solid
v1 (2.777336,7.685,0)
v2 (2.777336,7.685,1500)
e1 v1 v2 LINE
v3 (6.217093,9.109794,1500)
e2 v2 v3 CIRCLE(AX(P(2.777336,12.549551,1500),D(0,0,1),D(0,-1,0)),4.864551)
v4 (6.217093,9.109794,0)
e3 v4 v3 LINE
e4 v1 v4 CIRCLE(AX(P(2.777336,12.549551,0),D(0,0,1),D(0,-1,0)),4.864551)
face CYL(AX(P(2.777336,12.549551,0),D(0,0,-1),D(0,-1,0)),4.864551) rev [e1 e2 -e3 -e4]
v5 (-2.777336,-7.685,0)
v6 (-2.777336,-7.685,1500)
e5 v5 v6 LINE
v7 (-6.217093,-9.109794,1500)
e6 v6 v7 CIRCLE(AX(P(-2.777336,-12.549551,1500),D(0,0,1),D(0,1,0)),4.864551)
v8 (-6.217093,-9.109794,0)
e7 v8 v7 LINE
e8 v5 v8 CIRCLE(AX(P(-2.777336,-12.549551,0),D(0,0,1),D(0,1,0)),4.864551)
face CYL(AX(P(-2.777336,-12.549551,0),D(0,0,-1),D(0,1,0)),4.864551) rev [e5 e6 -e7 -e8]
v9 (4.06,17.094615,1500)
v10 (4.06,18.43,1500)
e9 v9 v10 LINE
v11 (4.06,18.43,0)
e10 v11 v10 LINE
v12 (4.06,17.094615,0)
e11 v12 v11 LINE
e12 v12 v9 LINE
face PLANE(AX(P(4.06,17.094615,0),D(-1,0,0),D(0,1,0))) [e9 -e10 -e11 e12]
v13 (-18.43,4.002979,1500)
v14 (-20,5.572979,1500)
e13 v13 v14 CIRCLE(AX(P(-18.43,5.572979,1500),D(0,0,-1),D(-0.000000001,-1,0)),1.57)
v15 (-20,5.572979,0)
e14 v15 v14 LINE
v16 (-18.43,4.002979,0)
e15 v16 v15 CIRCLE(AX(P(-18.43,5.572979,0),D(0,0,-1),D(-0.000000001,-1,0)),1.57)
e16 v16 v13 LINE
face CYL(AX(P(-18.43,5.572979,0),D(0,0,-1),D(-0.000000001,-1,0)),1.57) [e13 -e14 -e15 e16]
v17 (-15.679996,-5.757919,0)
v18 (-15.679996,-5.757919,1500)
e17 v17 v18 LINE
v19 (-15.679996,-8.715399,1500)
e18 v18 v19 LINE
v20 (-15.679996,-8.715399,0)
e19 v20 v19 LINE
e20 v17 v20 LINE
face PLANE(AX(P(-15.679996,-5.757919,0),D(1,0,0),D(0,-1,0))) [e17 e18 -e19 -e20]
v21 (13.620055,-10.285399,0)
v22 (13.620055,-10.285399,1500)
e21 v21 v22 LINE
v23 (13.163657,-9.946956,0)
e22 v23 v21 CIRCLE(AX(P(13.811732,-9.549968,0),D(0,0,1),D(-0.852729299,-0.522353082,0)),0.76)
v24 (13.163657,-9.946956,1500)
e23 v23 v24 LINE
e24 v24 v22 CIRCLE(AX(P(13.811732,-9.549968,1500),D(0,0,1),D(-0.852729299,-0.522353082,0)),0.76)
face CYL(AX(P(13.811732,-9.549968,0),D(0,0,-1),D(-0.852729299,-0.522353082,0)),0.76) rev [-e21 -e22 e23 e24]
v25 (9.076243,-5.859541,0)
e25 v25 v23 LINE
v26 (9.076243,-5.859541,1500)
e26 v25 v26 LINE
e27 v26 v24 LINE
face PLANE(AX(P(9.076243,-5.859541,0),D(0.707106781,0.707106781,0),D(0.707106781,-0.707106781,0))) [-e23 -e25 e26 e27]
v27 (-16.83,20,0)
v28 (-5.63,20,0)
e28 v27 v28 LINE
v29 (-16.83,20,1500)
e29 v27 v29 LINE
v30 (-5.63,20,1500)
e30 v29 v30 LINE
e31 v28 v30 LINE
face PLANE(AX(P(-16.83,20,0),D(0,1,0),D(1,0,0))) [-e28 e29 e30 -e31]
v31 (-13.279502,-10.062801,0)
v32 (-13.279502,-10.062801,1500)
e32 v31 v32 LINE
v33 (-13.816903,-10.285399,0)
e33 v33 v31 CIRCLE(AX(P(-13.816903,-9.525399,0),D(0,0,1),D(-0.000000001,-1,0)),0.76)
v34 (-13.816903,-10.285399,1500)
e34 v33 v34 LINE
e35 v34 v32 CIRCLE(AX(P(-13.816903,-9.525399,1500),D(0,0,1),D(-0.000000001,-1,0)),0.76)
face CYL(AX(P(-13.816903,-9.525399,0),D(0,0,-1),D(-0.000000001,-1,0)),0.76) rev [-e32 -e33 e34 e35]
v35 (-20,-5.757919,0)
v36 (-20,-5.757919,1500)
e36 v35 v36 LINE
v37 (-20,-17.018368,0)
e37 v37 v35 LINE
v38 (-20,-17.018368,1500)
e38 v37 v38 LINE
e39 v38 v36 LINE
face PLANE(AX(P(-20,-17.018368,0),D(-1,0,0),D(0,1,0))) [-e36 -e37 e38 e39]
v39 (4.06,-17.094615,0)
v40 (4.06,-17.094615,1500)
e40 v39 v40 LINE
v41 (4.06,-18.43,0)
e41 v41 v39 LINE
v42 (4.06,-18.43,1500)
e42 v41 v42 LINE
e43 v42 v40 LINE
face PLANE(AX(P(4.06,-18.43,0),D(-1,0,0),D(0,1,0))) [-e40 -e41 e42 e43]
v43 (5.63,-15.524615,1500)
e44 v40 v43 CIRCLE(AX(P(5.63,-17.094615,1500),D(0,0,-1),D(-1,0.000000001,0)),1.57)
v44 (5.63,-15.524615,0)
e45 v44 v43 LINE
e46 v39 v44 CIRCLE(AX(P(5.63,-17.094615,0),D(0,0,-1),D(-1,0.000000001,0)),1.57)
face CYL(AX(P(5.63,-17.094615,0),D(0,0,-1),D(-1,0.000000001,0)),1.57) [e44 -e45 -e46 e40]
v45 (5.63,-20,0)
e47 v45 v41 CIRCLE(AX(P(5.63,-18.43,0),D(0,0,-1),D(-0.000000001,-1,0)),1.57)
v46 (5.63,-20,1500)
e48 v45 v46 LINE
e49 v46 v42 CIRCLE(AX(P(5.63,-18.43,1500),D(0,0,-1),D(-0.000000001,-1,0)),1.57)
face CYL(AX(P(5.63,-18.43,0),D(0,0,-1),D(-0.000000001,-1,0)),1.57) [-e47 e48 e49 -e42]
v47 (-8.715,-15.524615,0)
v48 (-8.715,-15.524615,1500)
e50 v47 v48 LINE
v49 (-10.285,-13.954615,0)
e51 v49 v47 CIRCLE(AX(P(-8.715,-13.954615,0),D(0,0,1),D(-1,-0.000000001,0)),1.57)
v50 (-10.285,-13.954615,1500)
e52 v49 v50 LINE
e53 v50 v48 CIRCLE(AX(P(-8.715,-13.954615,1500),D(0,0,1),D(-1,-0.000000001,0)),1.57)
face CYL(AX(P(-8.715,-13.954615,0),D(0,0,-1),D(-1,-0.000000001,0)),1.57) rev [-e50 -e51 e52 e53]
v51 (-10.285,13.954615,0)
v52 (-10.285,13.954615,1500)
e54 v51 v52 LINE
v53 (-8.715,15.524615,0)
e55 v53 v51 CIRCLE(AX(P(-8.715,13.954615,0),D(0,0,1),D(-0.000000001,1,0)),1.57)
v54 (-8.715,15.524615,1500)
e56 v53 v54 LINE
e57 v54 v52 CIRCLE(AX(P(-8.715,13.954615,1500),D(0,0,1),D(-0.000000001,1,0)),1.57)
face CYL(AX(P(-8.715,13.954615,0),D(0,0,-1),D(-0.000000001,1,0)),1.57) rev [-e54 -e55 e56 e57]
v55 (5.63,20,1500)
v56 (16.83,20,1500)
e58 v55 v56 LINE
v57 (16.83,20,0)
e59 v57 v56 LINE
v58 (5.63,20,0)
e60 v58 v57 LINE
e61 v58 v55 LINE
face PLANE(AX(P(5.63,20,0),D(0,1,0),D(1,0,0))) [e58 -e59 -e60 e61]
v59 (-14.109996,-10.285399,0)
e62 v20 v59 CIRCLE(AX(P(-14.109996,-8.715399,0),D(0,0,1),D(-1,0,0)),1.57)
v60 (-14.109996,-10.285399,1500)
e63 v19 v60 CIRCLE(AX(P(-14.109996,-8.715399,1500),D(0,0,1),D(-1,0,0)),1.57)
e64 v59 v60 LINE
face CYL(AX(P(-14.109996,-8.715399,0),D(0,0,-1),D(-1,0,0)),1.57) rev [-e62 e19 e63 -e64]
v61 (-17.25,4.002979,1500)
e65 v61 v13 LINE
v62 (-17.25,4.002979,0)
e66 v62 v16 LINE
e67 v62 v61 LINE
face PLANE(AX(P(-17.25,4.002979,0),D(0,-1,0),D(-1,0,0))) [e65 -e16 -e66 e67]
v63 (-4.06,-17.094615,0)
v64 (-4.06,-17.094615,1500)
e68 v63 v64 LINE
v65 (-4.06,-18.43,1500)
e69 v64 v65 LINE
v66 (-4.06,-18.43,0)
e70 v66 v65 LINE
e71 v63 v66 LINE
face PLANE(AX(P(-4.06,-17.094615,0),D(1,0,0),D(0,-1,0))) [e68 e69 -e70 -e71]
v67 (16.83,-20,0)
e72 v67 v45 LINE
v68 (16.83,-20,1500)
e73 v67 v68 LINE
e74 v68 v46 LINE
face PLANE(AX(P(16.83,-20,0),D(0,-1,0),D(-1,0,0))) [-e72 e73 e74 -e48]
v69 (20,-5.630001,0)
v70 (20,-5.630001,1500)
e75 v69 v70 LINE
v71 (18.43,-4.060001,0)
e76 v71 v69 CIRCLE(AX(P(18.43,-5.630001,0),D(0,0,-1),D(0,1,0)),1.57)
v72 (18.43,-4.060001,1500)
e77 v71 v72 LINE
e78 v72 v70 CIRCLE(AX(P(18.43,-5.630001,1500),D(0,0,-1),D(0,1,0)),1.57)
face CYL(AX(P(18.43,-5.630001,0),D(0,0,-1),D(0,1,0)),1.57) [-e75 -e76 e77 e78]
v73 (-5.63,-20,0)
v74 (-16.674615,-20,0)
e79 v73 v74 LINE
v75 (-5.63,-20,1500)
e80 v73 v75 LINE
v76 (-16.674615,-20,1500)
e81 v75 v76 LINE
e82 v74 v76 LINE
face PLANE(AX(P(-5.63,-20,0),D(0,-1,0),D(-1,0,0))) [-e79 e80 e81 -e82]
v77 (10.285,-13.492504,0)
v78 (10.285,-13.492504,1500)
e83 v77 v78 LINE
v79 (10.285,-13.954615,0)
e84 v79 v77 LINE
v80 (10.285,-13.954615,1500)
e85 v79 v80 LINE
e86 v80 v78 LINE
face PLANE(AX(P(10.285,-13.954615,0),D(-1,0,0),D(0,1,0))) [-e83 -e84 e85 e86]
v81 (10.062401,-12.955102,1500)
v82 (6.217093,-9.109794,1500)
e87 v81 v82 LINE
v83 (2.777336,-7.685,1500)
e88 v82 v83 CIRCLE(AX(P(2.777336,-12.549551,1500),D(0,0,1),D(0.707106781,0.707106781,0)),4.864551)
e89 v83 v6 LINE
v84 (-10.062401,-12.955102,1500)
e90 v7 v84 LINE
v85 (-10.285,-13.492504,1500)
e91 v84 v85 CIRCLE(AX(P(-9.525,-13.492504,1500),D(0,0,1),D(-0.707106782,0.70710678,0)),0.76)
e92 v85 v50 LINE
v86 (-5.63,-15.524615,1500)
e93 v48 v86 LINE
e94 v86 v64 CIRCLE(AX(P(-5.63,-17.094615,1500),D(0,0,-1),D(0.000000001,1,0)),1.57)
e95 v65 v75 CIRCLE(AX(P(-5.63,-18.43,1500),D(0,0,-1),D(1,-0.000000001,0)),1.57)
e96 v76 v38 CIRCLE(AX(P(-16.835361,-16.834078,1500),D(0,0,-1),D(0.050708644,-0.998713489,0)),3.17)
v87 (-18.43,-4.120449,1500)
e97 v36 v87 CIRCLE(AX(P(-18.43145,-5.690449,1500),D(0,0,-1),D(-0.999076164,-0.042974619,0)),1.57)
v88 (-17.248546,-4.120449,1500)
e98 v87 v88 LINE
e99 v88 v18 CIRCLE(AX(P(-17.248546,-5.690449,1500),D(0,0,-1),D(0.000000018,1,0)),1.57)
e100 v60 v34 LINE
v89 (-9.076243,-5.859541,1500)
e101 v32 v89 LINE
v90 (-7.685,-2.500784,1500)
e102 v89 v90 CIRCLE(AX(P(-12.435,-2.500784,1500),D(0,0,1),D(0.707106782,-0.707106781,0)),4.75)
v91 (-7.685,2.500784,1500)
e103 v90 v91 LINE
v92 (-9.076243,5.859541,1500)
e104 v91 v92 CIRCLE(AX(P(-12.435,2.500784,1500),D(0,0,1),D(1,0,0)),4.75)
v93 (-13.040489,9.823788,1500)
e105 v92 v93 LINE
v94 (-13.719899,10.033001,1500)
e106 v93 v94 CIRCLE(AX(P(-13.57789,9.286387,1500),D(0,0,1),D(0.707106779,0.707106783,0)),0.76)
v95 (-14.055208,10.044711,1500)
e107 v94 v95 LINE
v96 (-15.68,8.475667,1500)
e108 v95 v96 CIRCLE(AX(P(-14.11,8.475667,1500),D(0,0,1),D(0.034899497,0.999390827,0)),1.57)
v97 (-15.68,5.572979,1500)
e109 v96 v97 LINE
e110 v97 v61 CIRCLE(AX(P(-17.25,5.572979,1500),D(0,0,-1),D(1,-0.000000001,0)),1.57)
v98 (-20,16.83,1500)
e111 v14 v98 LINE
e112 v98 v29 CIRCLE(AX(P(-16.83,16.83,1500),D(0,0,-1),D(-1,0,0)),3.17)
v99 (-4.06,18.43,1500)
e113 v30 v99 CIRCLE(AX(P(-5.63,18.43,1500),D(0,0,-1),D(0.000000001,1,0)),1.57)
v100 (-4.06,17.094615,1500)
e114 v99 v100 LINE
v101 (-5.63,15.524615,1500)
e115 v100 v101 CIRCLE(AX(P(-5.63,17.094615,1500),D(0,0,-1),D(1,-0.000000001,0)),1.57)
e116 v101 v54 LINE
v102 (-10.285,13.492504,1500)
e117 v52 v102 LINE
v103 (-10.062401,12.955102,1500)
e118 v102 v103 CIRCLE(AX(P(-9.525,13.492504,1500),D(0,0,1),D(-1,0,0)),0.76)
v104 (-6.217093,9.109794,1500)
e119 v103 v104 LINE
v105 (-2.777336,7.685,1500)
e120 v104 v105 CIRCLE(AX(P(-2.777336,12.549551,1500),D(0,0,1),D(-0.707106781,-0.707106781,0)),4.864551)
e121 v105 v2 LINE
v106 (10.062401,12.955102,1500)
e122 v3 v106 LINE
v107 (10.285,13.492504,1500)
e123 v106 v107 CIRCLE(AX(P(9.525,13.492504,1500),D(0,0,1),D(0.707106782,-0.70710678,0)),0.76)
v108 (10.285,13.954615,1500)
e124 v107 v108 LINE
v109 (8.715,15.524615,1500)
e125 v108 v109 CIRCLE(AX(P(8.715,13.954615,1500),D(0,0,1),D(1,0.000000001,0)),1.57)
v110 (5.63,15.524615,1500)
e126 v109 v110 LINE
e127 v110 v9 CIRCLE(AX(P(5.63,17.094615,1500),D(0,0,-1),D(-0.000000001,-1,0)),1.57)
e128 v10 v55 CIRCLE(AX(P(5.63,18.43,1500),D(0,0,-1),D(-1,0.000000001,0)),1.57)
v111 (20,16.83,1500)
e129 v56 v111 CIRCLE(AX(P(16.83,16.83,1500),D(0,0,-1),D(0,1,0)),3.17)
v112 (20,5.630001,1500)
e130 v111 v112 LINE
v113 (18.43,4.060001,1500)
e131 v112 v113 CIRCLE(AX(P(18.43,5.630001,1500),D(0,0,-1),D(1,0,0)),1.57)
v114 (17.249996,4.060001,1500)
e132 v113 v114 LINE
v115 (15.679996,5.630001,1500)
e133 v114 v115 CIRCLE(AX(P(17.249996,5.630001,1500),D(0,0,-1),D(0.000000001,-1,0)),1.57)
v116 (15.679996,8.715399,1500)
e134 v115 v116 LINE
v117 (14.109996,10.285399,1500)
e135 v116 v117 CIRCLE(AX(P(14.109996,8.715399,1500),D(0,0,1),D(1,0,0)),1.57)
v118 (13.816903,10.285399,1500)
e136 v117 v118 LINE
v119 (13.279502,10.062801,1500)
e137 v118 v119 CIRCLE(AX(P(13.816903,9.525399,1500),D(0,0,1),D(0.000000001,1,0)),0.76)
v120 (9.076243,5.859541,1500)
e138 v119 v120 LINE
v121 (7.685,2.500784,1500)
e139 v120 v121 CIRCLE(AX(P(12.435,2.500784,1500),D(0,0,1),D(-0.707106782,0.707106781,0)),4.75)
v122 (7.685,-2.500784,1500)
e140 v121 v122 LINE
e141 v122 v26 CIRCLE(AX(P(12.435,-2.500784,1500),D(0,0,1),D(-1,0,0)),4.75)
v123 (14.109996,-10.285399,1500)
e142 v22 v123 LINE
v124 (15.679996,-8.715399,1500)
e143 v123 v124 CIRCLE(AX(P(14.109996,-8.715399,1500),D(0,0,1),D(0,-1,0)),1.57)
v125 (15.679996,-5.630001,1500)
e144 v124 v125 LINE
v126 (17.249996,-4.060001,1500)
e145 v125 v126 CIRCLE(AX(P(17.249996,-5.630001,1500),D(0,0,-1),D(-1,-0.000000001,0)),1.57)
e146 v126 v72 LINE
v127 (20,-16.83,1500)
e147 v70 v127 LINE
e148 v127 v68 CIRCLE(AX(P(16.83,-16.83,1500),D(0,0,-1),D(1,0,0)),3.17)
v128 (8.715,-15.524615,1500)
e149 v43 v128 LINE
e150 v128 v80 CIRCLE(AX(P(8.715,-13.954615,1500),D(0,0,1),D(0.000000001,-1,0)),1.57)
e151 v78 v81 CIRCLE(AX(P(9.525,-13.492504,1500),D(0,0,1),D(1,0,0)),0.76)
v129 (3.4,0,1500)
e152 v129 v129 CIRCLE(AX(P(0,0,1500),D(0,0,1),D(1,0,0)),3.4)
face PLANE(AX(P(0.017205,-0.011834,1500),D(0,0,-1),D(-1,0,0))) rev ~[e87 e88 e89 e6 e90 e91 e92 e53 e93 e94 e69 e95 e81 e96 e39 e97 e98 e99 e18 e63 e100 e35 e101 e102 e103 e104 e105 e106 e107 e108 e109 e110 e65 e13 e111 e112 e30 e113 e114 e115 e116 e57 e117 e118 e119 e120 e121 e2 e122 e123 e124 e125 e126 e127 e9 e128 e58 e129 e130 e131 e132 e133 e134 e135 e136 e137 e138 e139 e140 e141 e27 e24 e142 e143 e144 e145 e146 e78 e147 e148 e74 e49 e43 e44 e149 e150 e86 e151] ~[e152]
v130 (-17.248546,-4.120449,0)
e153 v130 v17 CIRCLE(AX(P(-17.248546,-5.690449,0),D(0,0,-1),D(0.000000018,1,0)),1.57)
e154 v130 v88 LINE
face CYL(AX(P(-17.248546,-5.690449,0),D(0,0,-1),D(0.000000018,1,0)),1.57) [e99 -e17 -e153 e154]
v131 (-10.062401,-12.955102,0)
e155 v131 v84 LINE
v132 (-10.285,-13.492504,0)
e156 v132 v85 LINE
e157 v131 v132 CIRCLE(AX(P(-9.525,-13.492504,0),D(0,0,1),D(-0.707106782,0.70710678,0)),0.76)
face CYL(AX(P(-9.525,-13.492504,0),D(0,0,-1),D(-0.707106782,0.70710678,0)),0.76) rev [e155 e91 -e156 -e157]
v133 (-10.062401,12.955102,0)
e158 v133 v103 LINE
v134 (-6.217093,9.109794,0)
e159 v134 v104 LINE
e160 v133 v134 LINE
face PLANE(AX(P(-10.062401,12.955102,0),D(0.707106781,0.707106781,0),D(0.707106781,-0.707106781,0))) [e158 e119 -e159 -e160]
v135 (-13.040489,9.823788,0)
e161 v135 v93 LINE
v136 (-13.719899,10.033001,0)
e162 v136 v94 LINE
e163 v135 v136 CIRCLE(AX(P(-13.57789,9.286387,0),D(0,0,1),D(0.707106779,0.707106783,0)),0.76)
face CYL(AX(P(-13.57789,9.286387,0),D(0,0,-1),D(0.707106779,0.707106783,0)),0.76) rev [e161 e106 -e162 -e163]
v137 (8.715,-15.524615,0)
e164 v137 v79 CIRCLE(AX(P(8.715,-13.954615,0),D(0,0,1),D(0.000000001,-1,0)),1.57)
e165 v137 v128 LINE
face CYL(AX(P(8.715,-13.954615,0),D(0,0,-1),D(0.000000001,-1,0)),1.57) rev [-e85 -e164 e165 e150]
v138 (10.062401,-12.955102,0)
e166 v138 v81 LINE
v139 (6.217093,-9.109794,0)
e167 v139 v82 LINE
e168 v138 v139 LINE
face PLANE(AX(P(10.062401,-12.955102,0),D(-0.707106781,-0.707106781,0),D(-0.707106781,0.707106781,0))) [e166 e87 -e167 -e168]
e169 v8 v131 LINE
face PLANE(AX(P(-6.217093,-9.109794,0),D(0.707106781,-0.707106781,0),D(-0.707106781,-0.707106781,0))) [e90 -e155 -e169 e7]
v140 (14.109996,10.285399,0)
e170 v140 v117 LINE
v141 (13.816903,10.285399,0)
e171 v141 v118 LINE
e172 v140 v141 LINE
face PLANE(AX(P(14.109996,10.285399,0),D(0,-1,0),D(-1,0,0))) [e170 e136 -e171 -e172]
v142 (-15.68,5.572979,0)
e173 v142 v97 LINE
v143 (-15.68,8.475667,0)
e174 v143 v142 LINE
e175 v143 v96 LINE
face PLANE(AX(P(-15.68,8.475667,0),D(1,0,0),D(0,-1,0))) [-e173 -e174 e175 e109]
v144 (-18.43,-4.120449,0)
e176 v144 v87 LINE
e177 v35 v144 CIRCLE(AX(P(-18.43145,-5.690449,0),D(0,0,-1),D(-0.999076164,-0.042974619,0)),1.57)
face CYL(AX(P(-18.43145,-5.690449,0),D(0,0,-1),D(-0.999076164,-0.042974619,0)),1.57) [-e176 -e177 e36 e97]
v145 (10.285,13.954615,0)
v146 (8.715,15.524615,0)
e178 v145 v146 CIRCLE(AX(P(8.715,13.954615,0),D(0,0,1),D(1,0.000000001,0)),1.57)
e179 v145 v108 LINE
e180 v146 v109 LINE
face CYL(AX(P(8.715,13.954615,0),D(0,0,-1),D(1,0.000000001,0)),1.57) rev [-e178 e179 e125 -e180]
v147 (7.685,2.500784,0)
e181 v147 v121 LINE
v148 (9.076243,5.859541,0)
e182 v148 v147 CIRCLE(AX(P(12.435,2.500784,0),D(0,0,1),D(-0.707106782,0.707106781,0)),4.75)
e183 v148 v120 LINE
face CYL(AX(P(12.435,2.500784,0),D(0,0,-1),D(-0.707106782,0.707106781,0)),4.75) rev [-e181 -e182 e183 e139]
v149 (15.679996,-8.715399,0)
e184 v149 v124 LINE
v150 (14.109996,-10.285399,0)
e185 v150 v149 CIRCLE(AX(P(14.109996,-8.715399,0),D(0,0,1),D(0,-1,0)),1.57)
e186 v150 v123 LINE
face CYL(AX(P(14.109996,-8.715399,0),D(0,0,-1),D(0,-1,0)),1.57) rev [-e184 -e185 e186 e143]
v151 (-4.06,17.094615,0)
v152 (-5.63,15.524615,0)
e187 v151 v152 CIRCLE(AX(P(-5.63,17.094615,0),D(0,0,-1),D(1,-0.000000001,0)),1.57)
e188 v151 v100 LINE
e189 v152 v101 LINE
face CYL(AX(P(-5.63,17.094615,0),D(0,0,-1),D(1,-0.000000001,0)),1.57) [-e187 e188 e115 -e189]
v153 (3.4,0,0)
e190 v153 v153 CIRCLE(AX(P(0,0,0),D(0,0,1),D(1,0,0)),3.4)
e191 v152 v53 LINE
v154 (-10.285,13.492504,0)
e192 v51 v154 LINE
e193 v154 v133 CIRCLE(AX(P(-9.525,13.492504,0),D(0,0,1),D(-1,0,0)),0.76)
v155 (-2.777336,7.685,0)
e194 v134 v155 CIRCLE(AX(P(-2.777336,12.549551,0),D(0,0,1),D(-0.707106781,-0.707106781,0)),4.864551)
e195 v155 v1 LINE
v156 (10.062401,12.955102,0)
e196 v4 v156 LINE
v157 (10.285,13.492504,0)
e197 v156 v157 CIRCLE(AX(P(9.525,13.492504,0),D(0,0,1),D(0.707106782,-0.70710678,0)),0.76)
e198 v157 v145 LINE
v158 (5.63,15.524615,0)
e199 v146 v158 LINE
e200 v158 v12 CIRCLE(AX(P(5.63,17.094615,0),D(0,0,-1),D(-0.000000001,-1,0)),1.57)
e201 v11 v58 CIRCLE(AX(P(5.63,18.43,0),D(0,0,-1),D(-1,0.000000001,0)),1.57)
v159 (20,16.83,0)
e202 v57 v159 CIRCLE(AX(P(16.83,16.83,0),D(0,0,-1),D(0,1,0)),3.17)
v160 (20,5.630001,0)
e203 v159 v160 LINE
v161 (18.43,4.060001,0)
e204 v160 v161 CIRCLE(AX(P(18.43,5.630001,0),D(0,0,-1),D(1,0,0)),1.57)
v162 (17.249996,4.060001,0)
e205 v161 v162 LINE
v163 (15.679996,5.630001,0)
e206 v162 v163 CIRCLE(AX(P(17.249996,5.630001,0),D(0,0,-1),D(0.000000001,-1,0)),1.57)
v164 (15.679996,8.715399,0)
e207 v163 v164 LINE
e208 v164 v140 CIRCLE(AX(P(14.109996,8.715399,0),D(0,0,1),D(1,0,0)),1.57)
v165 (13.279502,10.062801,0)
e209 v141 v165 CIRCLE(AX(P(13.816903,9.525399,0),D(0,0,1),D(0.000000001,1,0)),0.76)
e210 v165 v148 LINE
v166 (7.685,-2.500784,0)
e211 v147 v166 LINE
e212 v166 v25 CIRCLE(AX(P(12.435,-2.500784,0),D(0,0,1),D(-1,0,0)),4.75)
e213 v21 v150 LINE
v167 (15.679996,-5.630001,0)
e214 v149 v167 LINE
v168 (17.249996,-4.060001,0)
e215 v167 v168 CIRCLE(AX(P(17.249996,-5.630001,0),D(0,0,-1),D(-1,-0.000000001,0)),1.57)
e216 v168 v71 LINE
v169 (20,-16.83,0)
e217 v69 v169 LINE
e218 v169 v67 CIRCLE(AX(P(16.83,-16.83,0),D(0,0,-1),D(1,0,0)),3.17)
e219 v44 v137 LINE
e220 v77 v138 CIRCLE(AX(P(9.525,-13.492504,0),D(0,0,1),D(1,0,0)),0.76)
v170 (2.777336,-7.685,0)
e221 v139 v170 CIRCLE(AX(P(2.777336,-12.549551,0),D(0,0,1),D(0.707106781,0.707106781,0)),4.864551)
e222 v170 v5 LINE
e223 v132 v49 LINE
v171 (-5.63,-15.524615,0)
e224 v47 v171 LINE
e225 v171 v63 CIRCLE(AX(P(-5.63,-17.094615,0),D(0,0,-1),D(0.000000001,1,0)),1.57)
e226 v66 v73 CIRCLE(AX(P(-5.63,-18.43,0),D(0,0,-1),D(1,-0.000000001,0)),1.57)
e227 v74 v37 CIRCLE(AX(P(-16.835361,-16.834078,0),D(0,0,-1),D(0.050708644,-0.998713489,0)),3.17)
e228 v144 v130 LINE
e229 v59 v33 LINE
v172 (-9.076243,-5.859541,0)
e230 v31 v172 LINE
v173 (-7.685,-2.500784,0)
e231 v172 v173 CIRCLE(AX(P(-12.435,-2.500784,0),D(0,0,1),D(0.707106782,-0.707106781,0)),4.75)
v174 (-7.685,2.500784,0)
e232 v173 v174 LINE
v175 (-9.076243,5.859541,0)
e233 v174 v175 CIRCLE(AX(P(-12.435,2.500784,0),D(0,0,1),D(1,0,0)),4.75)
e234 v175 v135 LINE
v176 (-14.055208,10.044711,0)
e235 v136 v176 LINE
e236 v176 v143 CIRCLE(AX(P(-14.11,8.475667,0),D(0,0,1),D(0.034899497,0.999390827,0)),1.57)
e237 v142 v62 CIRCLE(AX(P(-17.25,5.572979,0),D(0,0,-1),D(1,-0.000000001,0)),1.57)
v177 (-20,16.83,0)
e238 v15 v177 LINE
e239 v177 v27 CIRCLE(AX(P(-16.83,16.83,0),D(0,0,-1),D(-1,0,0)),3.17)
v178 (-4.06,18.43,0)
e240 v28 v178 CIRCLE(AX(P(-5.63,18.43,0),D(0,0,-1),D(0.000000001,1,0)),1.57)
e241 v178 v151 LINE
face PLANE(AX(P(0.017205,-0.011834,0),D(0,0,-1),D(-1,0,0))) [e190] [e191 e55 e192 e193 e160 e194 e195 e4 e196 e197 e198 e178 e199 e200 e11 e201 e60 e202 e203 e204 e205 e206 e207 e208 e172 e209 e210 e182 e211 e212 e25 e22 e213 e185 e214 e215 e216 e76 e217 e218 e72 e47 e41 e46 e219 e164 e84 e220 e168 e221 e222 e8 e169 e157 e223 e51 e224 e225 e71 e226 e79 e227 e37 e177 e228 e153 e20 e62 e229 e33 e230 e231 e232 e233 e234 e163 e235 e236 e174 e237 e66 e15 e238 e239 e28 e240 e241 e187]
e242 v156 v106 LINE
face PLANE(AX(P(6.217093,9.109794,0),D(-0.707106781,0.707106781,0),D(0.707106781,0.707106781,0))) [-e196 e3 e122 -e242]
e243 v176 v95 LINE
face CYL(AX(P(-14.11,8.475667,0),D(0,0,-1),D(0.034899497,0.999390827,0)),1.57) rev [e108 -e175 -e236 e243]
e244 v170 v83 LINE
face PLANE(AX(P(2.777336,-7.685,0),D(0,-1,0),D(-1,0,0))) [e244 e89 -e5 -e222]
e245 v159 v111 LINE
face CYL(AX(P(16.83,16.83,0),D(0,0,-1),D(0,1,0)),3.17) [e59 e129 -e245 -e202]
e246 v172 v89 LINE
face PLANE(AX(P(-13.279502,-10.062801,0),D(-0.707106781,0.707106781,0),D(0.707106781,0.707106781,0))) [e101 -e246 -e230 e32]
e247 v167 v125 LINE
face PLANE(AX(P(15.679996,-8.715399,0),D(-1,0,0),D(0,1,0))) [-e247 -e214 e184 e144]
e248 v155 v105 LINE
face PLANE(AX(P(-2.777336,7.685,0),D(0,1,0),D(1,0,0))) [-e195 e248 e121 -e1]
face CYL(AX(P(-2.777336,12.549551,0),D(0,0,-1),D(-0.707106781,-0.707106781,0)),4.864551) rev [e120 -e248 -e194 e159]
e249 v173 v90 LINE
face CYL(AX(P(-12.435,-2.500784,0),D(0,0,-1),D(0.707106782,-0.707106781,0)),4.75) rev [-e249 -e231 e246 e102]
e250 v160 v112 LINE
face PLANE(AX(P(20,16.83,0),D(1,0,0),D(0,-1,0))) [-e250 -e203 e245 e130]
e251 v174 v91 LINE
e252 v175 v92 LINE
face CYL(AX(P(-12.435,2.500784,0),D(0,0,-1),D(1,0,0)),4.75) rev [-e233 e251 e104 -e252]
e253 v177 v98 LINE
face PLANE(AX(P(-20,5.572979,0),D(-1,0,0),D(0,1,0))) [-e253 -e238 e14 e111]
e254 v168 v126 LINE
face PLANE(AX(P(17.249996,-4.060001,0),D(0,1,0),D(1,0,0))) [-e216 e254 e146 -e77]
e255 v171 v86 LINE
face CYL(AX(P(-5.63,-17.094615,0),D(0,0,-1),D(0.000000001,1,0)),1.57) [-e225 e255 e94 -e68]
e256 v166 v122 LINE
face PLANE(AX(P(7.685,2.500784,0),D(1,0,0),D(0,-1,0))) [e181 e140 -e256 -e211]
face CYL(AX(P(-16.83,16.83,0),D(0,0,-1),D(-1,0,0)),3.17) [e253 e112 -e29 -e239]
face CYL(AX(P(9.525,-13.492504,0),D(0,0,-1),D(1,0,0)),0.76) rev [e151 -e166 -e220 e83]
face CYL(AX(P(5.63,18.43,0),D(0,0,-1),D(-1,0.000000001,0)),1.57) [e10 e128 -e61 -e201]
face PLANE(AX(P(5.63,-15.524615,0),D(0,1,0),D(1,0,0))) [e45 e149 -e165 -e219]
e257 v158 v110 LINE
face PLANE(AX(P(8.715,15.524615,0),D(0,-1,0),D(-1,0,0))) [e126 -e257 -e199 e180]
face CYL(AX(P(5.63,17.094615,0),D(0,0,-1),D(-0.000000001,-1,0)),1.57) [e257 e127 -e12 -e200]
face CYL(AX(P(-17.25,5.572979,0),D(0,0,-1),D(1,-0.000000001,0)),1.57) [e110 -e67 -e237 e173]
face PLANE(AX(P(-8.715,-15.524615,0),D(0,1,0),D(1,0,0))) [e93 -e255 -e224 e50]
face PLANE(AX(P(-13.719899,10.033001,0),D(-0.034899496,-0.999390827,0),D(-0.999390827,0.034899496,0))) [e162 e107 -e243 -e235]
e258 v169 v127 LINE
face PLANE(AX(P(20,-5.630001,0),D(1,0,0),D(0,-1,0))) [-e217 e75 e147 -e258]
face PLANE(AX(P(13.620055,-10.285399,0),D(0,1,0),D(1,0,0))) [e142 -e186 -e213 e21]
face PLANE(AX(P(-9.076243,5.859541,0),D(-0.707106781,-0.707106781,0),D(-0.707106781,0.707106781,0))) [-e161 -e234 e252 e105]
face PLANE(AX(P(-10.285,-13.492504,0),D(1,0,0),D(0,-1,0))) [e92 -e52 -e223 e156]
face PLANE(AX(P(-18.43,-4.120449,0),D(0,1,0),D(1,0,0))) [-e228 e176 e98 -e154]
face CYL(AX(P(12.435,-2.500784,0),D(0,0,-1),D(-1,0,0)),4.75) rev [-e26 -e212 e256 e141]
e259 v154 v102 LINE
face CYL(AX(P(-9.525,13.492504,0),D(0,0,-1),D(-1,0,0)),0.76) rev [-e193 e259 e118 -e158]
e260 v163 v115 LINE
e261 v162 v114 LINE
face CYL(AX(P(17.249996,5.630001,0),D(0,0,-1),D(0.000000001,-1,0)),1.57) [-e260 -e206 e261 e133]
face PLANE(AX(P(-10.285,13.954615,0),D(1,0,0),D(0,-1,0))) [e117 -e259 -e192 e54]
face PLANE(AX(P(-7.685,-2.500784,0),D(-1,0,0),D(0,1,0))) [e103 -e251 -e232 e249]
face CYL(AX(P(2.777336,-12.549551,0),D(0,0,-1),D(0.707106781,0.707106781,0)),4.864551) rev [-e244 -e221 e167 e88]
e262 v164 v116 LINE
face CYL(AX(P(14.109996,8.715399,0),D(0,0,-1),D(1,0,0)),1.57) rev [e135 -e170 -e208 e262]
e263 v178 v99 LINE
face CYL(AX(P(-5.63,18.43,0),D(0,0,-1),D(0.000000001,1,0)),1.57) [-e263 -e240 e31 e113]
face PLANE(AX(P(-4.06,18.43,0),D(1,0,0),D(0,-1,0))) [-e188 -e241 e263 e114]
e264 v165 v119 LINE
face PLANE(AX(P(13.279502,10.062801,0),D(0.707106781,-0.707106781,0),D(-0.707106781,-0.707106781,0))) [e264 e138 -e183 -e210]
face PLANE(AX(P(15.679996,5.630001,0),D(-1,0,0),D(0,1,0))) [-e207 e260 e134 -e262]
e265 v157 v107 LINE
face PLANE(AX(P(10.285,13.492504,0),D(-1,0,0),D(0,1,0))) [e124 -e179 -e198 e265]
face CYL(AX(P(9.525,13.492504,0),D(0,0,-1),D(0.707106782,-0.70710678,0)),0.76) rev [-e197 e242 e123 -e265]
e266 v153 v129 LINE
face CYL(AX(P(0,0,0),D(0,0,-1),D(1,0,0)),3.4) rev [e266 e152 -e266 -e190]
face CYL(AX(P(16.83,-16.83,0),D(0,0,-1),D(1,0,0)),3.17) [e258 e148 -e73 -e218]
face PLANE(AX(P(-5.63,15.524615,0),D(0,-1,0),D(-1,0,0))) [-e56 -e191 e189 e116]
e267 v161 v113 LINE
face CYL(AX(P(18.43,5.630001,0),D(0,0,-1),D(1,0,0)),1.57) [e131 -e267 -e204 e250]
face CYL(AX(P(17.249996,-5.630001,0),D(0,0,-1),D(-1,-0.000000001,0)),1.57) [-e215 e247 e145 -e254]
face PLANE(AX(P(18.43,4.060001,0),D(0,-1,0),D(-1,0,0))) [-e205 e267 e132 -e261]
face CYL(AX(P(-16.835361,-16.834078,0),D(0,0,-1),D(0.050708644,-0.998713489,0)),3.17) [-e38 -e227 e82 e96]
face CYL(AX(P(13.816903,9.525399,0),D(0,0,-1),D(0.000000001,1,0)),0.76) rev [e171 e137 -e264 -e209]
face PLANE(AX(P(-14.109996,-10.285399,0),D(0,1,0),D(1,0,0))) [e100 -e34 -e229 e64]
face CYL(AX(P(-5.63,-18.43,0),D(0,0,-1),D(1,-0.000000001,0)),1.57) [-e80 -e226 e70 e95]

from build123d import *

# Parameters (mm, degrees)
SKETCH1_R           = 3.4
BOSS_EXTRUDE1_DEPTH = 1500


with BuildPart() as part:
    # Sketch1 → Boss-Extrude1 (new body)
    with BuildSketch(Plane.XY):
        with BuildLine():
            Line((-8.715, -15.524615034), (-5.63, -15.524615034))
            ThreePointArc((-5.63, -15.524615034), (-4.519842354, -15.984457388), (-4.06, -17.094615034))
            Line((-4.06, -17.094615034), (-4.06, -18.43))
            ThreePointArc((-4.06, -18.43), (-4.519842354, -19.540157646), (-5.63, -20))
            Line((-5.63, -20), (-16.674615034, -20))
            ThreePointArc((-16.674615034, -20), (-18.951578385, -19.194274381), (-20, -17.018368134))
            Line((-20, -17.018368134), (-20, -5.757918808))
            ThreePointArc((-20, -5.757918808), (-19.564709668, -4.603883664), (-18.43, -4.120449326))
            Line((-18.43, -4.120449326), (-17.248545805, -4.120449326))
            ThreePointArc((-17.248545805, -4.120449326), (-16.114784845, -4.604407881), (-15.67999625, -5.757919334))
            Line((-15.67999625, -5.757919334), (-15.67999625, -8.715399492))
            ThreePointArc((-15.67999625, -8.715399492), (-15.220153896, -9.825557139), (-14.10999625, -10.285399492))
            Line((-14.10999625, -10.285399492), (-13.816903094, -10.285399492))
            ThreePointArc((-13.816903094, -10.285399492), (-13.526063686, -10.227547937), (-13.279501941, -10.062800646))
            Line((-13.279501941, -10.062800646), (-9.076242789, -5.859541495))
            ThreePointArc((-9.076242789, -5.859541495), (-8.046572221, -4.318530588), (-7.685, -2.500784284))
            Line((-7.685, -2.500784284), (-7.685, 2.500784284))
            ThreePointArc((-7.685, 2.500784284), (-8.046572221, 4.318530588), (-9.076242789, 5.859541495))
            Line((-9.076242789, 5.859541495), (-13.040489136, 9.823787841))
            ThreePointArc((-13.040489136, 9.823787841), (-13.354224618, 10.012729352), (-13.71989919, 10.033001362))
            Line((-13.71989919, 10.033001362), (-14.05520779, 10.044710596))
            ThreePointArc((-14.05520779, 10.044710596), (-15.200613642, 9.605030484), (-15.68, 8.475666998))
            Line((-15.68, 8.475666998), (-15.68, 5.572979049))
            ThreePointArc((-15.68, 5.572979049), (-16.139842354, 4.462821403), (-17.25, 4.002979049))
            Line((-17.25, 4.002979049), (-18.43, 4.002979049))
            ThreePointArc((-18.43, 4.002979049), (-19.540157646, 4.462821403), (-20, 5.572979049))
            Line((-20, 5.572979049), (-20, 13.004526564))
            Line((-20, 13.004526564), (-20, 16.83))
            ThreePointArc((-20, 16.83), (-19.071528496, 19.071528496), (-16.83, 20))
            Line((-16.83, 20), (-5.63, 20))
            ThreePointArc((-5.63, 20), (-4.519842354, 19.540157646), (-4.06, 18.43))
            Line((-4.06, 18.43), (-4.06, 17.094615034))
            ThreePointArc((-4.06, 17.094615034), (-4.519842354, 15.984457388), (-5.63, 15.524615034))
            Line((-5.63, 15.524615034), (-8.715, 15.524615034))
            ThreePointArc((-8.715, 15.524615034), (-9.825157646, 15.06477268), (-10.285, 13.954615034))
            Line((-10.285, 13.954615034), (-10.285, 13.492503602))
            ThreePointArc((-10.285, 13.492503602), (-10.227148445, 13.201664194), (-10.062401154, 12.955102448))
            Line((-10.062401154, 12.955102448), (-6.217092793, 9.109794088))
            ThreePointArc((-6.217092793, 9.109794088), (-4.63891877, 8.055291919), (-2.777335583, 7.685))
            Line((-2.777335583, 7.685), (2.777335583, 7.685))
            ThreePointArc((2.777335583, 7.685), (4.63891877, 8.055291919), (6.217092793, 9.109794088))
            Line((6.217092793, 9.109794088), (10.062401154, 12.955102448))
            ThreePointArc((10.062401154, 12.955102448), (10.227148445, 13.201664194), (10.285, 13.492503602))
            Line((10.285, 13.492503602), (10.285, 13.954615034))
            ThreePointArc((10.285, 13.954615034), (9.825157646, 15.06477268), (8.715, 15.524615034))
            Line((8.715, 15.524615034), (5.63, 15.524615034))
            ThreePointArc((5.63, 15.524615034), (4.519842354, 15.984457388), (4.06, 17.094615034))
            Line((4.06, 17.094615034), (4.06, 18.43))
            ThreePointArc((4.06, 18.43), (4.519842354, 19.540157646), (5.63, 20))
            Line((5.63, 20), (12.979635074, 20))
            Line((12.979635074, 20), (16.83, 20))
            ThreePointArc((16.83, 20), (19.071528496, 19.071528496), (20, 16.83))
            Line((20, 16.83), (20, 13.001098436))
            Line((20, 13.001098436), (20, 5.630000526))
            ThreePointArc((20, 5.630000526), (19.540157646, 4.519842879), (18.43, 4.060000526))
            Line((18.43, 4.060000526), (17.24999625, 4.060000526))
            ThreePointArc((17.24999625, 4.060000526), (16.139838603, 4.519842879), (15.67999625, 5.630000526))
            Line((15.67999625, 5.630000526), (15.67999625, 8.715399492))
            ThreePointArc((15.67999625, 8.715399492), (15.220153896, 9.825557139), (14.10999625, 10.285399492))
            Line((14.10999625, 10.285399492), (13.816903094, 10.285399492))
            ThreePointArc((13.816903094, 10.285399492), (13.526063686, 10.227547937), (13.279501941, 10.062800646))
            Line((13.279501941, 10.062800646), (9.076242789, 5.859541495))
            ThreePointArc((9.076242789, 5.859541495), (8.046572221, 4.318530588), (7.685, 2.500784284))
            Line((7.685, 2.500784284), (7.685, -2.500784284))
            ThreePointArc((7.685, -2.500784284), (8.046572221, -4.318530588), (9.076242789, -5.859541495))
            Line((9.076242789, -5.859541495), (13.163657296, -9.946956002))
            ThreePointArc((13.163657296, -9.946956002), (13.35903797, -10.160433474), (13.6200547, -10.285399492))
            Line((13.6200547, -10.285399492), (14.10999625, -10.285399492))
            ThreePointArc((14.10999625, -10.285399492), (15.220153896, -9.825557139), (15.67999625, -8.715399492))
            Line((15.67999625, -8.715399492), (15.67999625, -5.630000526))
            ThreePointArc((15.67999625, -5.630000526), (16.139838603, -4.519842879), (17.24999625, -4.060000526))
            Line((17.24999625, -4.060000526), (18.43, -4.060000526))
            ThreePointArc((18.43, -4.060000526), (19.540157646, -4.519842879), (20, -5.630000526))
            Line((20, -5.630000526), (20, -16.83))
            ThreePointArc((20, -16.83), (19.071528496, -19.071528496), (16.83, -20))
            Line((16.83, -20), (13, -20))
            Line((13, -20), (5.63, -20))
            ThreePointArc((5.63, -20), (4.519842354, -19.540157646), (4.06, -18.43))
            Line((4.06, -18.43), (4.06, -17.094615034))
            ThreePointArc((4.06, -17.094615034), (4.519842354, -15.984457388), (5.63, -15.524615034))
            Line((5.63, -15.524615034), (8.715, -15.524615034))
            ThreePointArc((8.715, -15.524615034), (9.825157646, -15.06477268), (10.285, -13.954615034))
            Line((10.285, -13.954615034), (10.285, -13.492503602))
            ThreePointArc((10.285, -13.492503602), (10.227148445, -13.201664194), (10.062401154, -12.955102448))
            Line((10.062401154, -12.955102448), (6.217092793, -9.109794088))
            ThreePointArc((6.217092793, -9.109794088), (4.63891877, -8.055291919), (2.777335583, -7.685))
            Line((2.777335583, -7.685), (-2.777335583, -7.685))
            ThreePointArc((-2.777335583, -7.685), (-4.63891877, -8.055291919), (-6.217092793, -9.109794088))
            Line((-6.217092793, -9.109794088), (-10.062401154, -12.955102448))
            ThreePointArc((-10.062401154, -12.955102448), (-10.227148445, -13.201664194), (-10.285, -13.492503602))
            Line((-10.285, -13.492503602), (-10.285, -13.954615034))
            ThreePointArc((-10.285, -13.954615034), (-9.825157646, -15.06477268), (-8.715, -15.524615034))
        make_face()
        Circle(SKETCH1_R, mode=Mode.SUBTRACT)
    extrude(amount=BOSS_EXTRUDE1_DEPTH)


solid = part.part
